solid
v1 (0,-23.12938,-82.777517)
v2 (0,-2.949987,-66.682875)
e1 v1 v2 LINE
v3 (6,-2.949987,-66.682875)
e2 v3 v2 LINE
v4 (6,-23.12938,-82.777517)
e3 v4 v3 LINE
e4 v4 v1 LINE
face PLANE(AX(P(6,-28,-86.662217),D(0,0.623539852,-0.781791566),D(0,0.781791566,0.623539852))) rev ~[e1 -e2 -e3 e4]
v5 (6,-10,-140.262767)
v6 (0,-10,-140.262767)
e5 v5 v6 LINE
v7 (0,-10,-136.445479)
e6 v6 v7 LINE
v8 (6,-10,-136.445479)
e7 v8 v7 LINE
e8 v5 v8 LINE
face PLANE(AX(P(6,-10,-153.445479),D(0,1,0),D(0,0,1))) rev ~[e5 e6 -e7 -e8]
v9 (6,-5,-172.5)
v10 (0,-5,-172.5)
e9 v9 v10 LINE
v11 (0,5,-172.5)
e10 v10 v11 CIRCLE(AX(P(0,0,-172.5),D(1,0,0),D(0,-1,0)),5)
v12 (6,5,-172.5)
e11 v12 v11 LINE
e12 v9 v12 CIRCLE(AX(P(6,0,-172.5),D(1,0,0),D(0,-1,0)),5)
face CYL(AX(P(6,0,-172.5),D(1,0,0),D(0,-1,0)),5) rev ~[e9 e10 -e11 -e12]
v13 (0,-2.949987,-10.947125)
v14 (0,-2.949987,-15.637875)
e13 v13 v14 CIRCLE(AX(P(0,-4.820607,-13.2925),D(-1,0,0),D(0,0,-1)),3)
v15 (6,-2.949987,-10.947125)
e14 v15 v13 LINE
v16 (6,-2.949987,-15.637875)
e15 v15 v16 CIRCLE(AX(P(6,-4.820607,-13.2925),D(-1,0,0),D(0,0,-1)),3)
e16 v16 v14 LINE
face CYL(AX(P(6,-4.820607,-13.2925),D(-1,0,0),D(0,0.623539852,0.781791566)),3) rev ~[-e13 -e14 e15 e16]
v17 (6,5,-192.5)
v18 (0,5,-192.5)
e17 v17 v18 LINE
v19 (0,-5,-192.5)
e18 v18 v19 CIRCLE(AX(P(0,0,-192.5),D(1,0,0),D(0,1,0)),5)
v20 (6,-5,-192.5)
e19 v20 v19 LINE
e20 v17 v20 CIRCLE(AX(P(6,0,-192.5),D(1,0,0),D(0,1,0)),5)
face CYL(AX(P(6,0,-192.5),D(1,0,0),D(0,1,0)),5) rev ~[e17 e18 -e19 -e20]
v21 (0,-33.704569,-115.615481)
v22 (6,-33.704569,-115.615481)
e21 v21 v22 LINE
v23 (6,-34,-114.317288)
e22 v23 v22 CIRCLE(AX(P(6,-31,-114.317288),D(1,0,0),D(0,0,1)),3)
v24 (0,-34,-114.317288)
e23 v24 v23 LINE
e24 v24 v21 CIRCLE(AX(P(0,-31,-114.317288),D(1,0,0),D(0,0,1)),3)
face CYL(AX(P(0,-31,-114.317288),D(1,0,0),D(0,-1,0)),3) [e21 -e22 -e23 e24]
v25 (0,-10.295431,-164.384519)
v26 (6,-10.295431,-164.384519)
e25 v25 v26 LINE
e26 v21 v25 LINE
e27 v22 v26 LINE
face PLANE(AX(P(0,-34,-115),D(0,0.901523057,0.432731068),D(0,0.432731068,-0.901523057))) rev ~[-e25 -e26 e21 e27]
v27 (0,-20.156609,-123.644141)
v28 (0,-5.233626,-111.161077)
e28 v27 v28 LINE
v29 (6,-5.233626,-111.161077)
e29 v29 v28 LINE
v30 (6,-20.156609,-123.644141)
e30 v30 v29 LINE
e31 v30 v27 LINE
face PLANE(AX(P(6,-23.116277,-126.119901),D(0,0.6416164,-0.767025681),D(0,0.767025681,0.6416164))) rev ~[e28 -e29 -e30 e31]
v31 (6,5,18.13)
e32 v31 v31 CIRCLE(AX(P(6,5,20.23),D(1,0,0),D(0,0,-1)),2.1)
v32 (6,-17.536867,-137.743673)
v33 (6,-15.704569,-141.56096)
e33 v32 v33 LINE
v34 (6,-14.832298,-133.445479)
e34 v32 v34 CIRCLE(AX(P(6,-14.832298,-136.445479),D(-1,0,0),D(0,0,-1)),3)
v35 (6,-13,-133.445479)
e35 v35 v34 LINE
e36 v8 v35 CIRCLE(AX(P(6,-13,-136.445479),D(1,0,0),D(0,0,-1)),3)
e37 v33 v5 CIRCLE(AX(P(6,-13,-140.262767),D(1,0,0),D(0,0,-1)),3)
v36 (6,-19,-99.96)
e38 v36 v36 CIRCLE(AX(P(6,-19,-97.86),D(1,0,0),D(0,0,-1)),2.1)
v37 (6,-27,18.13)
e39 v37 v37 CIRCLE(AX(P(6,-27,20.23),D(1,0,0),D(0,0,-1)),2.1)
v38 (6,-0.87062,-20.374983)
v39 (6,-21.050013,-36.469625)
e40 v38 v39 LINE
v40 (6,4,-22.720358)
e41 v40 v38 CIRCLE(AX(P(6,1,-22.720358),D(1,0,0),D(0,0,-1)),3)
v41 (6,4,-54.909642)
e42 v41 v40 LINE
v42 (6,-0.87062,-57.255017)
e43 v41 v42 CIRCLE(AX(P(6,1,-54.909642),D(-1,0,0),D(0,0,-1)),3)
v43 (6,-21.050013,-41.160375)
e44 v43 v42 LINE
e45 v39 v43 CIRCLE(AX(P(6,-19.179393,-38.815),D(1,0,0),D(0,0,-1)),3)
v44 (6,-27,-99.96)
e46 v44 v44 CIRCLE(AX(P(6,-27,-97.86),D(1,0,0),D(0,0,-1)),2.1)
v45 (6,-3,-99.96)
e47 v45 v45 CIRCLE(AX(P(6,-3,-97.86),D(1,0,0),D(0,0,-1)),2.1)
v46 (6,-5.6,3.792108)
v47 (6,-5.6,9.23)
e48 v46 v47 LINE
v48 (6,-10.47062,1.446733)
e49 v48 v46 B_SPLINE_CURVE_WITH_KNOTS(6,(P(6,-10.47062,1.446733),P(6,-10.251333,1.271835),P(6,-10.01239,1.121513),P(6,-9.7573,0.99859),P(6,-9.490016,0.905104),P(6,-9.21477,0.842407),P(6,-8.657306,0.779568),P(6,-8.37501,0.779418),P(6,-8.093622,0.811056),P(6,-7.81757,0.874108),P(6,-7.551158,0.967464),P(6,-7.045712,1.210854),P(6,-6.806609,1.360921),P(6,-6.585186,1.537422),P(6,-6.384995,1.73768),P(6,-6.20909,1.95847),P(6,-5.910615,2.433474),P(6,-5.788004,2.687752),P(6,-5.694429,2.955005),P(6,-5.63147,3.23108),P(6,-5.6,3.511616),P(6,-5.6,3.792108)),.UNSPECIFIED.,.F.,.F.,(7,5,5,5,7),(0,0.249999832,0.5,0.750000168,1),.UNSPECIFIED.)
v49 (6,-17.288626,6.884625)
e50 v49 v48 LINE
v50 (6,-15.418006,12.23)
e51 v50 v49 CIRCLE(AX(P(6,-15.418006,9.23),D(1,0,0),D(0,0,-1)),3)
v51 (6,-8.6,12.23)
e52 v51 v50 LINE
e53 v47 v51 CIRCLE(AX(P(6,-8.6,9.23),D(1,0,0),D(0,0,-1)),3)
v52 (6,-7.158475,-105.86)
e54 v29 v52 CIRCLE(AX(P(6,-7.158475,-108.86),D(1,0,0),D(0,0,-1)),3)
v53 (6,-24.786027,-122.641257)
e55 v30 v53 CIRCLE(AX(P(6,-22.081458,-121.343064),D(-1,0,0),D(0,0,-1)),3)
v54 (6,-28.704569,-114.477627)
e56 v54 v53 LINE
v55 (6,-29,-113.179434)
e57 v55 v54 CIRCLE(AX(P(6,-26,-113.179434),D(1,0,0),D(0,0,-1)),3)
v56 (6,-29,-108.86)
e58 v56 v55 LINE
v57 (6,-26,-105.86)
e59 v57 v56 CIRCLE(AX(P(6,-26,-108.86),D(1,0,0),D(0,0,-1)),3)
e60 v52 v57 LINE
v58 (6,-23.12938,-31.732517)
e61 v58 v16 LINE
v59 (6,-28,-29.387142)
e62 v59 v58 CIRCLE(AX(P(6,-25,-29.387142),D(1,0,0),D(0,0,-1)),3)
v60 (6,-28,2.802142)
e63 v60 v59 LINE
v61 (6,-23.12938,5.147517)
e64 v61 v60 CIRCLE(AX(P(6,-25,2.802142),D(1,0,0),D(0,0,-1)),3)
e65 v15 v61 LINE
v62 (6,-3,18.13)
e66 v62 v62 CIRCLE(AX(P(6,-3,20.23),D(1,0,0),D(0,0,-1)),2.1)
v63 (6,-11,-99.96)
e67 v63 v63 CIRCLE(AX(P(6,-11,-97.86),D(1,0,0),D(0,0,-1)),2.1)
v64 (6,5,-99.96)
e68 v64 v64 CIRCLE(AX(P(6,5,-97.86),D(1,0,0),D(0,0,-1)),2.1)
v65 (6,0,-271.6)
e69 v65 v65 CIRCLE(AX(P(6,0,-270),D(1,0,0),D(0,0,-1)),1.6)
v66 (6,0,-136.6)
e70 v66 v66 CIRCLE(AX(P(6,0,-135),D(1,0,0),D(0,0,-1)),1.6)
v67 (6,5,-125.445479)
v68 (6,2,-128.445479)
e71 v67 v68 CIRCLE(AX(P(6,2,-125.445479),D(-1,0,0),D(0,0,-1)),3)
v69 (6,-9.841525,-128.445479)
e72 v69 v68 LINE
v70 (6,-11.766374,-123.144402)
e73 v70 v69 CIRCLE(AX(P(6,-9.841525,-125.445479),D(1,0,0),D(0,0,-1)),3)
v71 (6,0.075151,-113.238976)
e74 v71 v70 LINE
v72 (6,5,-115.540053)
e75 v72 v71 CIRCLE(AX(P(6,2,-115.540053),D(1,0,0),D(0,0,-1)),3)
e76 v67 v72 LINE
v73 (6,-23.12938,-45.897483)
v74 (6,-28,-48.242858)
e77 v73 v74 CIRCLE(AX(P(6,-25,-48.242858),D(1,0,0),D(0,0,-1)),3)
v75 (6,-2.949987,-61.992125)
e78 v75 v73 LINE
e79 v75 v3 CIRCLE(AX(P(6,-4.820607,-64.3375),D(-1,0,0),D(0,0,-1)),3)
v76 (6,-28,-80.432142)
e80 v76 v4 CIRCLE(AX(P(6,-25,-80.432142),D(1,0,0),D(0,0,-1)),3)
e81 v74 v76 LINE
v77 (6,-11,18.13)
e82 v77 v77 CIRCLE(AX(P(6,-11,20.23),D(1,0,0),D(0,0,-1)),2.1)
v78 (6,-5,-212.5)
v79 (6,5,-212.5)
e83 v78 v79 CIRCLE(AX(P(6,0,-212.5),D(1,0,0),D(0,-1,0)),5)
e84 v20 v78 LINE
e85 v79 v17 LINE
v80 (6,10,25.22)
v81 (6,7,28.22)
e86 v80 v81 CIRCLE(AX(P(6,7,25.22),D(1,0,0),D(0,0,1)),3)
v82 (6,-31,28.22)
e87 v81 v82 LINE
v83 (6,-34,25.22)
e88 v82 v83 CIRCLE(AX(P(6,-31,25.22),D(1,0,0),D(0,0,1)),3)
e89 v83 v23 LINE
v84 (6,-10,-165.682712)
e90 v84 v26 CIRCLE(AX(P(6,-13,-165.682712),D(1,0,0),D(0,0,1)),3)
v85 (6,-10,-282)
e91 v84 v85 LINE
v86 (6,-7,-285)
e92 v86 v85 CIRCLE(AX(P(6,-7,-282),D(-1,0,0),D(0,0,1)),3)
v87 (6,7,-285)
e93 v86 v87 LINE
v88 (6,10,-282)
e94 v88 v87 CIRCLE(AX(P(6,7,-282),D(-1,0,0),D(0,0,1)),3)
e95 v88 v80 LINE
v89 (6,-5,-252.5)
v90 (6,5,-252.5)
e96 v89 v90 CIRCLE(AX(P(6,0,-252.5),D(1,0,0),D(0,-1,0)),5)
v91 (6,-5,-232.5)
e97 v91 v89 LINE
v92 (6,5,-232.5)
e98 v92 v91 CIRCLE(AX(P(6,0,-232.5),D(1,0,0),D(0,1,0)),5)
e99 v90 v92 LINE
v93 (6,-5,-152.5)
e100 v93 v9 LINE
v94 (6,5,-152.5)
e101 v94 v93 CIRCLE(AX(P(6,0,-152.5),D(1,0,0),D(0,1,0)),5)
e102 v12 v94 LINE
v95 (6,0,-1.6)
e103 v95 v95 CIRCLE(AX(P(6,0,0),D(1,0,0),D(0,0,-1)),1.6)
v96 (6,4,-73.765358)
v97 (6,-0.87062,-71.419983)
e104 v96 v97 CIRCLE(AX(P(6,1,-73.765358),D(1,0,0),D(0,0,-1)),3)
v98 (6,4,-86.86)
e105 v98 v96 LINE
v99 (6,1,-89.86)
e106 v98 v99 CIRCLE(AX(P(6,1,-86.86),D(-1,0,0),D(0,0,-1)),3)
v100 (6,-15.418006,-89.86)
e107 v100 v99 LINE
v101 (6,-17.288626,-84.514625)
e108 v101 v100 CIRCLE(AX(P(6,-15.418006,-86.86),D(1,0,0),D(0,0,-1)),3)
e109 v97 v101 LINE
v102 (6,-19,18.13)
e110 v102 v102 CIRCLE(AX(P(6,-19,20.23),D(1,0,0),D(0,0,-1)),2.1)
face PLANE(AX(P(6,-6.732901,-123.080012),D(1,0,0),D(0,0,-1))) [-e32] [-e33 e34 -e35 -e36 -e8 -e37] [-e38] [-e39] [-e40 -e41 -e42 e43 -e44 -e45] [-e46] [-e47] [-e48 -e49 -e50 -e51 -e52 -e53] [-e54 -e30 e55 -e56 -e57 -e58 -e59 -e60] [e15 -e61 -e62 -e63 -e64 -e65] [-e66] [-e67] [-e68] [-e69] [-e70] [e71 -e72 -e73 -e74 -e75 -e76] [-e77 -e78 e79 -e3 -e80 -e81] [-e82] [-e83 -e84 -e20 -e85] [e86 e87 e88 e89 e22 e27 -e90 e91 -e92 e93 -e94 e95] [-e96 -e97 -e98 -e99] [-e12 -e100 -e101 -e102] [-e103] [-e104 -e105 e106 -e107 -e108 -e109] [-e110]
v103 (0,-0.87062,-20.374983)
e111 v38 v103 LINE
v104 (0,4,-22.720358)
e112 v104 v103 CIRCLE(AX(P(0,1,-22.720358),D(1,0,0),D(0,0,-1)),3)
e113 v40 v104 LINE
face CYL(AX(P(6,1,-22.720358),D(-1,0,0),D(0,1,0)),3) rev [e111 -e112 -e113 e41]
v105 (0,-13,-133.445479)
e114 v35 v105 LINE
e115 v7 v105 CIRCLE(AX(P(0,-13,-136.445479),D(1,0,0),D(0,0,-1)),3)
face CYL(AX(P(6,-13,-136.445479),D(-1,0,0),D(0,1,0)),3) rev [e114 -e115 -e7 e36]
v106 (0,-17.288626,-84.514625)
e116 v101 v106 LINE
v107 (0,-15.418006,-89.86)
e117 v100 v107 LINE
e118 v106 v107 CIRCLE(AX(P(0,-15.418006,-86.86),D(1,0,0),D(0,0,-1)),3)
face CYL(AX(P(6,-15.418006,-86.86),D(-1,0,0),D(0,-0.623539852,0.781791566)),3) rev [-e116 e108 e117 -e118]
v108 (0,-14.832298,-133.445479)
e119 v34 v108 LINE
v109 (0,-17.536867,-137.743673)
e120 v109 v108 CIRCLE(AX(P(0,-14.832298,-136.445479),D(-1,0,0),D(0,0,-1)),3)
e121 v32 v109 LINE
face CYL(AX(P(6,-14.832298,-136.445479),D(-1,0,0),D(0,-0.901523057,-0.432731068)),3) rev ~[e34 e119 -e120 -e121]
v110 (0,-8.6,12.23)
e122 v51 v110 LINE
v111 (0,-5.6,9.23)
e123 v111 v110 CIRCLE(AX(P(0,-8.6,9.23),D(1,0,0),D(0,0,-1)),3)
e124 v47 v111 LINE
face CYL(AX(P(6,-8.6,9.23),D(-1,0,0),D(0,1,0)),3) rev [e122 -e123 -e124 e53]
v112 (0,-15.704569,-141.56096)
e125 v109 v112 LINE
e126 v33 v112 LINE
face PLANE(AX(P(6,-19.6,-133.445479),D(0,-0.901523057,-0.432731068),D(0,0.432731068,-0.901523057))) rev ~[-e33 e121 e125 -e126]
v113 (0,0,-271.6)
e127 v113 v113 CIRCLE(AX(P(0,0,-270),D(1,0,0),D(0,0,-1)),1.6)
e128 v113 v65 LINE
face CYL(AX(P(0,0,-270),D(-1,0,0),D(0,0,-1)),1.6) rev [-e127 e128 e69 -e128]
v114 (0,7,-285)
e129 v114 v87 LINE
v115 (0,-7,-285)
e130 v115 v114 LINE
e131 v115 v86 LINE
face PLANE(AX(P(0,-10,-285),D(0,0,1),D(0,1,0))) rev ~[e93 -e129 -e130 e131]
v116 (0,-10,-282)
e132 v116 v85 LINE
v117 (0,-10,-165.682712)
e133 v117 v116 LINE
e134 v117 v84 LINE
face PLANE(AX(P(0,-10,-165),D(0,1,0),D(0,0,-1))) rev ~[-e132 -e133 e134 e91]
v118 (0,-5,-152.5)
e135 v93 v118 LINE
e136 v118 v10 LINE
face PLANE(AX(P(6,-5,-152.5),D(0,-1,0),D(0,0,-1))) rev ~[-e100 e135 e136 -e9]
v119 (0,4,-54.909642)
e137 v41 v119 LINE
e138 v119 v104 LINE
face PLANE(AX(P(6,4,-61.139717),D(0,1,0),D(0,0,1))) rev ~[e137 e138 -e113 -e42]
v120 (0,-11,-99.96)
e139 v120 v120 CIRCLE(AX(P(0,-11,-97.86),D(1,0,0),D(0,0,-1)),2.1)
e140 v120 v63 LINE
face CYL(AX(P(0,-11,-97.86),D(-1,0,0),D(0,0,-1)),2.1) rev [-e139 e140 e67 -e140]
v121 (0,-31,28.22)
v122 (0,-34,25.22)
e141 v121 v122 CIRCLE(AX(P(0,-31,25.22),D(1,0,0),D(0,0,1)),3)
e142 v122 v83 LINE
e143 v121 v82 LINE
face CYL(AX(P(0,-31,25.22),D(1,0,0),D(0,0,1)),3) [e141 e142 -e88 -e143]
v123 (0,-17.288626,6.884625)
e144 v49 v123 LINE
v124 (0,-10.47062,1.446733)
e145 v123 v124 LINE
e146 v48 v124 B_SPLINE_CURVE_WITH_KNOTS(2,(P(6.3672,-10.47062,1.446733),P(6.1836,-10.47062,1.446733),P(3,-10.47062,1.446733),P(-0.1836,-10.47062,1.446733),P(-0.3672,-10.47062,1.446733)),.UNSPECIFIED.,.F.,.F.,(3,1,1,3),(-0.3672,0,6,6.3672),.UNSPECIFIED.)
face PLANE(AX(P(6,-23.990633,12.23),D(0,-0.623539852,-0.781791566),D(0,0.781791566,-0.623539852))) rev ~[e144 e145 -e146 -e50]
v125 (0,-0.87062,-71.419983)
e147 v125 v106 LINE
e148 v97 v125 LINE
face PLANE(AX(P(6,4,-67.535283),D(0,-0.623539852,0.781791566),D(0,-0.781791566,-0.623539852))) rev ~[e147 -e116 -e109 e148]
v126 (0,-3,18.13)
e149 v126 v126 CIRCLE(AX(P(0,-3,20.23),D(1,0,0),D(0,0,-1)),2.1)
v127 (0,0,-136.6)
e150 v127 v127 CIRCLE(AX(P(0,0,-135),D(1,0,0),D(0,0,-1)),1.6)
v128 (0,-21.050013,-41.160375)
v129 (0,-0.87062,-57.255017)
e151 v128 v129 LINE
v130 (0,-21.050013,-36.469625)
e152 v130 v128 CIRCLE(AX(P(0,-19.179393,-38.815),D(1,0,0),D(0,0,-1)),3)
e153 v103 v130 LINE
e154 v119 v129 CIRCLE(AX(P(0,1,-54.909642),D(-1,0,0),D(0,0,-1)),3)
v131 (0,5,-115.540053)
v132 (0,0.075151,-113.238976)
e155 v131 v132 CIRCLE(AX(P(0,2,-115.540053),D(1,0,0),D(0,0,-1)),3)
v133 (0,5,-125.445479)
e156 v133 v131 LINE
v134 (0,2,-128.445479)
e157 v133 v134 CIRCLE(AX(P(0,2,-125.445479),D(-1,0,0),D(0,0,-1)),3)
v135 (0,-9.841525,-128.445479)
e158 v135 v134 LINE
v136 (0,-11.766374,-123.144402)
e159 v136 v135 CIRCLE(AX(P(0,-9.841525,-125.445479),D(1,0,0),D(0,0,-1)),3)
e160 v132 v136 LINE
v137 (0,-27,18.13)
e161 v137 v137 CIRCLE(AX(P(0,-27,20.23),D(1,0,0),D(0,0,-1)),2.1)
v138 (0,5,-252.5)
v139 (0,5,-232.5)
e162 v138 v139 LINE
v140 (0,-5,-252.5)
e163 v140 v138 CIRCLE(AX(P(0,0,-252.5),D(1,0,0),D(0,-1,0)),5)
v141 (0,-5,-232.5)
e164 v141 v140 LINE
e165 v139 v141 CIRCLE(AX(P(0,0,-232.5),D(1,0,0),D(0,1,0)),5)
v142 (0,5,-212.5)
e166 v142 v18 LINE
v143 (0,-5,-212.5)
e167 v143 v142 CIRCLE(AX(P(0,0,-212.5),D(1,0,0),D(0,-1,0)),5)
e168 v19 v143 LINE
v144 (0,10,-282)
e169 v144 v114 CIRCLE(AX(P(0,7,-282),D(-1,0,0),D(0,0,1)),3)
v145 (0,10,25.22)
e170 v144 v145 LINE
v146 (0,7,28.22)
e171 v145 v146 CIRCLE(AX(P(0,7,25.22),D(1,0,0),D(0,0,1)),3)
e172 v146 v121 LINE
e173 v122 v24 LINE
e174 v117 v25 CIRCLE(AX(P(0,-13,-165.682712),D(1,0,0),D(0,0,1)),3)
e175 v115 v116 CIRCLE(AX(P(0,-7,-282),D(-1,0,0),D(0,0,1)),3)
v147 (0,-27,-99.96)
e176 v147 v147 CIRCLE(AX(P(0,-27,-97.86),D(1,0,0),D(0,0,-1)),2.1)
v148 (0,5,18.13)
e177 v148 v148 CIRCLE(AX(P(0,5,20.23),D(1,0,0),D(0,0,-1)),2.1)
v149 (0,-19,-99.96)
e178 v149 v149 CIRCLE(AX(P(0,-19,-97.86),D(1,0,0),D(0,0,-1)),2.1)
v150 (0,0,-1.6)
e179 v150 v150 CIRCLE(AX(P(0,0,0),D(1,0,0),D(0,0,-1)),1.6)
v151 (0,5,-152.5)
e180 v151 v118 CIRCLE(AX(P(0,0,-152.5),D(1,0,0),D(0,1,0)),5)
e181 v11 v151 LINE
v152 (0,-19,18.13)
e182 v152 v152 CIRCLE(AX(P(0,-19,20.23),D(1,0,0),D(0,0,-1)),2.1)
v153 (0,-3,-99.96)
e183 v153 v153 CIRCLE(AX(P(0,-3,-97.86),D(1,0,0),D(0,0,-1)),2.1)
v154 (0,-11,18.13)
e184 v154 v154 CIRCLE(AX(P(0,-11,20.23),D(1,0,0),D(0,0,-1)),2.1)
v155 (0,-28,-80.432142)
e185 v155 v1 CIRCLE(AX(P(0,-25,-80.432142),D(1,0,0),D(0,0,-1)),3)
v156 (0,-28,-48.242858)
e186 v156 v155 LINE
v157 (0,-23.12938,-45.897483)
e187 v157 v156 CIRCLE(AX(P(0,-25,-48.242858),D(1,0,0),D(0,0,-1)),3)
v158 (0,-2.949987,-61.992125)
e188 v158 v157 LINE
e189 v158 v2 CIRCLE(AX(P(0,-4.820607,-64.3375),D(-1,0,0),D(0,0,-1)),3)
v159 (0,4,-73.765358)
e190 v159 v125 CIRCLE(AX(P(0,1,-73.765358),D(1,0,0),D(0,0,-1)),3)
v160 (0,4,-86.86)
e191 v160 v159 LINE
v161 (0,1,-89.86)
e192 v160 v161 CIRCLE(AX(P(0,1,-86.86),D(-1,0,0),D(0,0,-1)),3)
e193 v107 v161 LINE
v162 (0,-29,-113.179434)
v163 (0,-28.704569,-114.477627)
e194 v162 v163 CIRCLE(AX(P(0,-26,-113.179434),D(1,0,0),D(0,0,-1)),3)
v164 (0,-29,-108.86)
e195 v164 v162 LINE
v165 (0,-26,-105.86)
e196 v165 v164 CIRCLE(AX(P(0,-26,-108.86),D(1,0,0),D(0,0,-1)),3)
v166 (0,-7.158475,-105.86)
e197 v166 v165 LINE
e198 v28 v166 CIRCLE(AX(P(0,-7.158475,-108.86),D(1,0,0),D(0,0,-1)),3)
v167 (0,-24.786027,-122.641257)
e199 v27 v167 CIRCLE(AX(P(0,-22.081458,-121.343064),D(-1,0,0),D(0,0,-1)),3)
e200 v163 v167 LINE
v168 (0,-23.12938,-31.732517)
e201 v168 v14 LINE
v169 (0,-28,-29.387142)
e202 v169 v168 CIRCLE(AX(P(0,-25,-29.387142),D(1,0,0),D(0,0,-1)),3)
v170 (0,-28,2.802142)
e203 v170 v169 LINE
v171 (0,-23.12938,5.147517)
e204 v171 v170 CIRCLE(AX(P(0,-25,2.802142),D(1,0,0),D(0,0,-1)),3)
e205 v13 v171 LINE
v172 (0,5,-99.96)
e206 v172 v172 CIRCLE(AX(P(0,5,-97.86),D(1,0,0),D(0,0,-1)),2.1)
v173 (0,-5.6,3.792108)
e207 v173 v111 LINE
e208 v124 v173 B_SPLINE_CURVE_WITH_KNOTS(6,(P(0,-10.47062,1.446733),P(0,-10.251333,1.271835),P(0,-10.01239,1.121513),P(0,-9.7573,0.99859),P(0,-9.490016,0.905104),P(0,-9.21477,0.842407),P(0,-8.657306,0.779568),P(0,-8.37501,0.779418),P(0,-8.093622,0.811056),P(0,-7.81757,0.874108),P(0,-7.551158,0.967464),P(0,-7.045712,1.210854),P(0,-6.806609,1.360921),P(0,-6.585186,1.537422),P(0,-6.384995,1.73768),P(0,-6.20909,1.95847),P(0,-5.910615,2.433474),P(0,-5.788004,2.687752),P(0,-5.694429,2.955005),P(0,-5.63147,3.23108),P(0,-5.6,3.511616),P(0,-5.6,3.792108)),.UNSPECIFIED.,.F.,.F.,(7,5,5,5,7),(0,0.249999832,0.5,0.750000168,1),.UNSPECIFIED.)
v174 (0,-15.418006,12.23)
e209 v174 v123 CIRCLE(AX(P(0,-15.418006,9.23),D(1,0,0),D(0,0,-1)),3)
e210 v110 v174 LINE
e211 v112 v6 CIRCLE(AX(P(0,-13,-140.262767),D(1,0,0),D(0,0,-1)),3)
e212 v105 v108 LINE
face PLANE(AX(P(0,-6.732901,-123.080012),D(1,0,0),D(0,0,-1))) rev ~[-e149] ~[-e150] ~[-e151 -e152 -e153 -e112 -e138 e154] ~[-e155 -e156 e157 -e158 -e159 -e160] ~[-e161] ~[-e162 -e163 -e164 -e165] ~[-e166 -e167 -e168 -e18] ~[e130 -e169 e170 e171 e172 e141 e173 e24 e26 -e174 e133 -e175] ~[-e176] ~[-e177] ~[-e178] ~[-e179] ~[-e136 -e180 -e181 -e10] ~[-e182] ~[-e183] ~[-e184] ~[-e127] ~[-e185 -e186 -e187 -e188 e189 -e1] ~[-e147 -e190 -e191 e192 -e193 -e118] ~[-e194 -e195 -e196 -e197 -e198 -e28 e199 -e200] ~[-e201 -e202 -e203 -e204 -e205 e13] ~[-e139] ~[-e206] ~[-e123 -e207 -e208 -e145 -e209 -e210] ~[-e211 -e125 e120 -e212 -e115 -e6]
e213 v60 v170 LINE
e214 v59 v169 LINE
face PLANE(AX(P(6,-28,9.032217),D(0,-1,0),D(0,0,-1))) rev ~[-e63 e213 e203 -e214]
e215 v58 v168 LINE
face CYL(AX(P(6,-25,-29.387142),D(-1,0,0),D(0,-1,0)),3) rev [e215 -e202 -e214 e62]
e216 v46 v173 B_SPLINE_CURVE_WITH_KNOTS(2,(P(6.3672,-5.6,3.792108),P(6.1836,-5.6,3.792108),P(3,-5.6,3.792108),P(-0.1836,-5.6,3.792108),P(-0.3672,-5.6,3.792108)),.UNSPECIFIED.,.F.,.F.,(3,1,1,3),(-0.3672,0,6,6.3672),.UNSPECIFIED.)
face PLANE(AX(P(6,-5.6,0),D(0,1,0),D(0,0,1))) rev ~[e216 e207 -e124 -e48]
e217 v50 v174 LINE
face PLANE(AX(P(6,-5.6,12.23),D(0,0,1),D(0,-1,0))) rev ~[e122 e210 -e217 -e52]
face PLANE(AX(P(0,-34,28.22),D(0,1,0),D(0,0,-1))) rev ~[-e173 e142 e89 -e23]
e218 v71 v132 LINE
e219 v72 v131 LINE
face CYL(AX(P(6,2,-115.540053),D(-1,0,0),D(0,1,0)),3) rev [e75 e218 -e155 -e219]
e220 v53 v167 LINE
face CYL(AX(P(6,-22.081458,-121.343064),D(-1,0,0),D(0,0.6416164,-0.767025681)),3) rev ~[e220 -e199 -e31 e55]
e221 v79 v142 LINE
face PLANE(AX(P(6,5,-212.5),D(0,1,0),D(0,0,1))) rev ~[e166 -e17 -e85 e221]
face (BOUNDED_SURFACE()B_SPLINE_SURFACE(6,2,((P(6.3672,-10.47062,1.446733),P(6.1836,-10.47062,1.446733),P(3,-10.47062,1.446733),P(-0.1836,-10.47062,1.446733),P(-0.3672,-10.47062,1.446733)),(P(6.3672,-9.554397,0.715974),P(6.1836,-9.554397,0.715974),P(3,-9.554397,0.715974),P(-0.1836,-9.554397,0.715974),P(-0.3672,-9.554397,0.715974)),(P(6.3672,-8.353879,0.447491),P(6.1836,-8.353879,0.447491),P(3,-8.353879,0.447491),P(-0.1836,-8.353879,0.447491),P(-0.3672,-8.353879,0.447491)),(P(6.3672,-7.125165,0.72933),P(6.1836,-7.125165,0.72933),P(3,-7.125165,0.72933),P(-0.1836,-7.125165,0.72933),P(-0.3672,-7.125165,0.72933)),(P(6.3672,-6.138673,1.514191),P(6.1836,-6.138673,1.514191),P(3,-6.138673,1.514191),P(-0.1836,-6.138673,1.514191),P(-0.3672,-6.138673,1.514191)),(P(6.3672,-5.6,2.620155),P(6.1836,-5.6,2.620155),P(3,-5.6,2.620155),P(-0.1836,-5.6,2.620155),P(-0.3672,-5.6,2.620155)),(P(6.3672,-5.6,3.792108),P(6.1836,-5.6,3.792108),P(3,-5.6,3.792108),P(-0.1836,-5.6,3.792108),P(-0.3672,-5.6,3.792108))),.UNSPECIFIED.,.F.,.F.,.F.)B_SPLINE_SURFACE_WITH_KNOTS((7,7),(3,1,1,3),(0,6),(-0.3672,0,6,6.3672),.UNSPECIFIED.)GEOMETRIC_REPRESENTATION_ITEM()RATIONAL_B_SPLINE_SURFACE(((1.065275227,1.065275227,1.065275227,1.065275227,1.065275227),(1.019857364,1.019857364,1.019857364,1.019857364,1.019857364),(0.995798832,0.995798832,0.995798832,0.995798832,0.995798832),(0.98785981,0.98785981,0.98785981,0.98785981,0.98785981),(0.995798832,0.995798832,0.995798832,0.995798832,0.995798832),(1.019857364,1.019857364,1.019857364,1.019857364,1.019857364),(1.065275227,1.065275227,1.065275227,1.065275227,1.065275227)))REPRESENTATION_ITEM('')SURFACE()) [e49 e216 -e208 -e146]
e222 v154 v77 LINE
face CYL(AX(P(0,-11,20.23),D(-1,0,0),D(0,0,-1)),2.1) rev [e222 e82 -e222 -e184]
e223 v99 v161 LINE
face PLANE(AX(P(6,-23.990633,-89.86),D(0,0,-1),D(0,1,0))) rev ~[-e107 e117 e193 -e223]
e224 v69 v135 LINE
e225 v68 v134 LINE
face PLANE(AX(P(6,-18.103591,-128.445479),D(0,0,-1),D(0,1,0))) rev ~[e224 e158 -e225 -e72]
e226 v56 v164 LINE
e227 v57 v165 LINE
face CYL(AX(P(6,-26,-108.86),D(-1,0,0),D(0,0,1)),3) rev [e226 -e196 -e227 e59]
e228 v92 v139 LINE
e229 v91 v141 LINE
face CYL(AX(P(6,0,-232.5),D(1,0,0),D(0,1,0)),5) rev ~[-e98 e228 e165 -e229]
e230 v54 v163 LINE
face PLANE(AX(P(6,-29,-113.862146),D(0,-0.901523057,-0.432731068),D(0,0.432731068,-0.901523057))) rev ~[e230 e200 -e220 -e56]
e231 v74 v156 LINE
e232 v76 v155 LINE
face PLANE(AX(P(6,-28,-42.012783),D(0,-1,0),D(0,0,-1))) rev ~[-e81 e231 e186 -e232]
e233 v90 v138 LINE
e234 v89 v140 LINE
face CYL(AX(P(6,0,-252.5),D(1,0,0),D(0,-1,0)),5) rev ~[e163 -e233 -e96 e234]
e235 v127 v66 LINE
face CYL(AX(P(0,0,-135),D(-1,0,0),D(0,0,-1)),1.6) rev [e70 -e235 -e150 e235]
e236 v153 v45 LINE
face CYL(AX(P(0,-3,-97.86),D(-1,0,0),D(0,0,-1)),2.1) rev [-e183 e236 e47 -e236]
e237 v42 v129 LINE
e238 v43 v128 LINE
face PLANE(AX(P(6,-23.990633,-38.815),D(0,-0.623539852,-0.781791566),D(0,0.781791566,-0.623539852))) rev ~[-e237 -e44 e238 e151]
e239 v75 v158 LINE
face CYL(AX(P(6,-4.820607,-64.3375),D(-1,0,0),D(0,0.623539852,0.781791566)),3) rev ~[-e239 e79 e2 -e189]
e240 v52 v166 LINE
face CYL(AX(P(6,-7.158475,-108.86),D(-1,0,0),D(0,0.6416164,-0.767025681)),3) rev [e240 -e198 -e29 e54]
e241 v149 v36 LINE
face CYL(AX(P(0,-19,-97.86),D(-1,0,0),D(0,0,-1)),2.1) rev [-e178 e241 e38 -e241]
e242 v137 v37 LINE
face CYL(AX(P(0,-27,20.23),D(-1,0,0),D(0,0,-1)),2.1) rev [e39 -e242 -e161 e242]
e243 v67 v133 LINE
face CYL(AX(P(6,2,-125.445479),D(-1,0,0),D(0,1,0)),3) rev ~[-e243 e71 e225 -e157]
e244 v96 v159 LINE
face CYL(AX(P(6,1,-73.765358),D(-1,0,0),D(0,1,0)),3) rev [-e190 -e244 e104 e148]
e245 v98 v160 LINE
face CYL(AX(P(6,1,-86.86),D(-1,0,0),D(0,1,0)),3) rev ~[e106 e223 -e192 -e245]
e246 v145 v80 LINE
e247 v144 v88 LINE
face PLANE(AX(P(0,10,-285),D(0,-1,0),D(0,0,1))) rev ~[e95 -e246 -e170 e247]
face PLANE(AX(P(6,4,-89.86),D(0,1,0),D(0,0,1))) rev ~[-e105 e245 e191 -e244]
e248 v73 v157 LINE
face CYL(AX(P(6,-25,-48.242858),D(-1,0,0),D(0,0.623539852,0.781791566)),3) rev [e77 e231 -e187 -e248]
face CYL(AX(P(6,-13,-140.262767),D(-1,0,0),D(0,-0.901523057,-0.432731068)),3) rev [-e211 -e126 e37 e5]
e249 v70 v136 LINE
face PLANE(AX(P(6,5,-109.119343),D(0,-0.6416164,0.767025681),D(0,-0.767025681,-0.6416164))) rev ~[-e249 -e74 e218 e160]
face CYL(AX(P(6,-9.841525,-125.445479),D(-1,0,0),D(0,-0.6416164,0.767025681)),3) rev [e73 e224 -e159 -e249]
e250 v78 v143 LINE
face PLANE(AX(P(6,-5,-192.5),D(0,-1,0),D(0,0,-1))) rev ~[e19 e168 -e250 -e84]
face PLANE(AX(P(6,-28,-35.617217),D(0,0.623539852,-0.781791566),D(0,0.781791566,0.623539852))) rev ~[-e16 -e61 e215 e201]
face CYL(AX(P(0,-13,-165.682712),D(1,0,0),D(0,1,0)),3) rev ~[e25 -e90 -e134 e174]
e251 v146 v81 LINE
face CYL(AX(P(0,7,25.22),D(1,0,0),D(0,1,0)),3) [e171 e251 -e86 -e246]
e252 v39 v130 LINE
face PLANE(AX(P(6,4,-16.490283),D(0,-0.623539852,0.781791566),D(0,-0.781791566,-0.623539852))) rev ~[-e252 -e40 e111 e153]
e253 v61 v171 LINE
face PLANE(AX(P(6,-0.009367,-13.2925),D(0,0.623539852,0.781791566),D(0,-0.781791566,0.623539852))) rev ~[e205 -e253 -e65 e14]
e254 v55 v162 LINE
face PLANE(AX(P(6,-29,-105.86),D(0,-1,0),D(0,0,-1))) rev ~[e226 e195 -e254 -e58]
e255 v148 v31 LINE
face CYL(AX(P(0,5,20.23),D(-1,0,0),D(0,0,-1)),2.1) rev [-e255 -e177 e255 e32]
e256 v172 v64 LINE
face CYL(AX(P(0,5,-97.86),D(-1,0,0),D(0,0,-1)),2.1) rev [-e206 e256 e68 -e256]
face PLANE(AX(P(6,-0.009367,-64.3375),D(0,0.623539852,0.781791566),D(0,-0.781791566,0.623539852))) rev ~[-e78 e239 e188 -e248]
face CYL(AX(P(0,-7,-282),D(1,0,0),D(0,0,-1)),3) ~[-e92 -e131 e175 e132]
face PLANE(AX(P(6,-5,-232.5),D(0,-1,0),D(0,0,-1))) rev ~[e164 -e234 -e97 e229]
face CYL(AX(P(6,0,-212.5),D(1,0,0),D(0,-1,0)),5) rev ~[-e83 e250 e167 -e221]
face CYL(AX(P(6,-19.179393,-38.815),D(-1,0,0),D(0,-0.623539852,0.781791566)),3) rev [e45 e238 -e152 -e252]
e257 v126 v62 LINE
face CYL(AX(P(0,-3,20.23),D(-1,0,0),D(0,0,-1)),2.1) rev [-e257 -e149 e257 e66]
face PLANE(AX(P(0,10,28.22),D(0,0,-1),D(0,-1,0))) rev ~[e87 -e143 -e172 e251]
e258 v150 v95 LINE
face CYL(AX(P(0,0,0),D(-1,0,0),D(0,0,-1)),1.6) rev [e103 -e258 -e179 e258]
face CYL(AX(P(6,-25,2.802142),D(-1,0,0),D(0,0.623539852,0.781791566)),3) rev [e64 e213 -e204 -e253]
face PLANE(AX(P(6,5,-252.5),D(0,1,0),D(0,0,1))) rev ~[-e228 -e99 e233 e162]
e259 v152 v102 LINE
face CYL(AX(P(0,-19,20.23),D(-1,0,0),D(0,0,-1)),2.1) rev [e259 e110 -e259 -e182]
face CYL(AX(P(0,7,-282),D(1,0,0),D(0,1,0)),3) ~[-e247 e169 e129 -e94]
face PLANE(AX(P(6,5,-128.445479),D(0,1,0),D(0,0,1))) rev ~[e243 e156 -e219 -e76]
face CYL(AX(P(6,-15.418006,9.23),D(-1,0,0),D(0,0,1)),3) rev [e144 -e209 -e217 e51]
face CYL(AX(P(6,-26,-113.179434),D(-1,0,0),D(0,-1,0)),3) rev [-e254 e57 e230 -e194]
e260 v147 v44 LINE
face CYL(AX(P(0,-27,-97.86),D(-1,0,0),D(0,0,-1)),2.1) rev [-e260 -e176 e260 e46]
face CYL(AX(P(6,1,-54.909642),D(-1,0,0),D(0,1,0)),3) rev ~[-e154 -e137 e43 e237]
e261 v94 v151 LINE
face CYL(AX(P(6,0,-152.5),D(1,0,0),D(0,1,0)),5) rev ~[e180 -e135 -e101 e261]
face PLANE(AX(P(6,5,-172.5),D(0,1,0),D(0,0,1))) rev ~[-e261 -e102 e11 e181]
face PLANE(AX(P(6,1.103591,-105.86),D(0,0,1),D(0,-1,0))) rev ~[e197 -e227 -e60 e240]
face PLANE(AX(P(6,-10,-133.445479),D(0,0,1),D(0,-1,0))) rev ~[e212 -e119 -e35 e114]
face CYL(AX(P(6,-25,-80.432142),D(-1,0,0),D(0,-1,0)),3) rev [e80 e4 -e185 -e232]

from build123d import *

# Parameters (mm, degrees)
SKETCH_1_R          = 1.6
SKETCH_1_R_2        = 2.1
EXTRUDE_1_DEPTH     = 6
CUT_EXTRUDE_1_DEPTH = 10
FILLET_1_R          = 3
FILLET_2_R          = 3


with BuildPart() as part:
    # 草图1 → 凸台-拉伸1 (new body)
    with BuildSketch(Plane(origin=(0, 0, 0), x_dir=(0, 0, -1), z_dir=(1, 0, 0))):
        Polygon((285, 10), (-28.22, 10), (-28.22, -34), (115, -34), (165, -10), (285, -10), align=None)
        Circle(SKETCH_1_R, mode=Mode.SUBTRACT)
        with Locations((135, 0)):
            Circle(SKETCH_1_R, mode=Mode.SUBTRACT)
        with Locations((270, 0)):
            Circle(SKETCH_1_R, mode=Mode.SUBTRACT)
        with Locations((97.86, -27)):
            Circle(SKETCH_1_R_2, mode=Mode.SUBTRACT)
        with Locations((97.86, -19)):
            Circle(SKETCH_1_R_2, mode=Mode.SUBTRACT)
        with Locations((97.86, -11)):
            Circle(SKETCH_1_R_2, mode=Mode.SUBTRACT)
        with Locations((97.86, -3)):
            Circle(SKETCH_1_R_2, mode=Mode.SUBTRACT)
        with Locations((97.86, 5)):
            Circle(SKETCH_1_R_2, mode=Mode.SUBTRACT)
        with Locations((-20.23, -27)):
            Circle(SKETCH_1_R_2, mode=Mode.SUBTRACT)
        with Locations((-20.23, -19)):
            Circle(SKETCH_1_R_2, mode=Mode.SUBTRACT)
        with Locations((-20.23, -11)):
            Circle(SKETCH_1_R_2, mode=Mode.SUBTRACT)
        with Locations((-20.23, -3)):
            Circle(SKETCH_1_R_2, mode=Mode.SUBTRACT)
        with Locations((-20.23, 5)):
            Circle(SKETCH_1_R_2, mode=Mode.SUBTRACT)
    extrude(amount=EXTRUDE_1_DEPTH)

    # 草图2 → 切除-拉伸1 (cut)
    with BuildSketch(Plane(origin=(6, 0, 0), x_dir=(0, 0, -1), z_dir=(1, 0, 0))):
        Polygon((13.2925, -0.009366832), (-9.032216719, -28), (35.617216719, -28), align=None)
        with BuildLine():
            ThreePointArc((3.290130805, -4.531560359), (1.729633197, -5.326196486), (0, -5.6))
            Line((0, -5.6), (-12.23, -5.6))
            Line((-12.23, -5.6), (-12.23, -23.990633168))
            Line((-12.23, -23.990633168), (3.290130805, -4.531560359))
        make_face()
        Polygon((61.139716719, 4), (16.490283281, 4), (38.815, -23.990633168), align=None)
        Polygon((64.3375, -0.009366832), (42.012783281, -28), (86.662216719, -28), align=None)
        Polygon((89.86, 4), (67.535283281, 4), (89.86, -23.990633168), align=None)
        Polygon((126.119901445, -23.116277457), (105.86, 1.103590865), (105.86, -29), (113.862146147, -29), align=None)
        Polygon((128.44547948, 5), (109.11934328, 5), (128.44547948, -18.103590865), align=None)
        Polygon((133.44547948, -19.6), (153.44547948, -10), (133.44547948, -10), align=None)
        with BuildLine():
            Line((152.5, -5), (172.5, -5))
            ThreePointArc((172.5, -5), (177.5, 0), (172.5, 5))
            Line((172.5, 5), (152.5, 5))
            ThreePointArc((152.5, 5), (147.5, 0), (152.5, -5))
        make_face()
        with BuildLine():
            Line((192.5, -5), (212.5, -5))
            ThreePointArc((212.5, -5), (217.5, 0), (212.5, 5))
            Line((212.5, 5), (192.5, 5))
            ThreePointArc((192.5, 5), (187.5, 0), (192.5, -5))
        make_face()
        with BuildLine():
            Line((232.5, -5), (252.5, -5))
            ThreePointArc((252.5, -5), (257.5, 0), (252.5, 5))
            Line((252.5, 5), (232.5, 5))
            ThreePointArc((232.5, 5), (227.5, 0), (232.5, -5))
        make_face()
    extrude(amount=-CUT_EXTRUDE_1_DEPTH, mode=Mode.SUBTRACT)

    # 圆角1
    fillet_1_edges = [part.edges().sort_by_distance(p)[0] for p in [
        (3, -23.116277457, -126.119901445),
        (3, -29, -113.862146147),
        (3, -29, -105.86),
        (3, 1.103590865, -105.86),
        (3, -18.103590865, -128.44547948),
        (3, 5, -109.11934328),
        (3, 5, -128.44547948),
        (3, 4, -61.139716719),
        (3, -23.990633168, -38.815),
        (3, -28, -86.662216719),
        (3, -28, -42.012783281),
        (3, -0.009366832, -64.3375),
        (3, -28, -35.617216719),
        (3, -28, 9.032216719),
        (3, -0.009366832, -13.2925),
        (3, 4, -89.86),
        (3, -23.990633168, -89.86),
        (3, 4, -67.535283281),
        (3, -4.531560359, -3.290130805),
        (3, -23.990633168, 12.23),
        (3, -5.6, 12.23),
        (3, -10, -133.44547948),
        (3, -10, -153.44547948),
        (3, -19.6, -133.44547948),
        (3, 4, -16.490283281),
    ]]
    fillet(fillet_1_edges, radius=FILLET_1_R)

    # 圆角2
    fillet_2_edges = [part.edges().sort_by_distance(p)[0] for p in [
        (3, -10, -285),
        (3, -10, -165),
        (3, -34, -115),
        (3, -34, 28.22),
        (3, 10, 28.22),
        (3, 10, -285),
    ]]
    fillet(fillet_2_edges, radius=FILLET_2_R)


solid = part.part
